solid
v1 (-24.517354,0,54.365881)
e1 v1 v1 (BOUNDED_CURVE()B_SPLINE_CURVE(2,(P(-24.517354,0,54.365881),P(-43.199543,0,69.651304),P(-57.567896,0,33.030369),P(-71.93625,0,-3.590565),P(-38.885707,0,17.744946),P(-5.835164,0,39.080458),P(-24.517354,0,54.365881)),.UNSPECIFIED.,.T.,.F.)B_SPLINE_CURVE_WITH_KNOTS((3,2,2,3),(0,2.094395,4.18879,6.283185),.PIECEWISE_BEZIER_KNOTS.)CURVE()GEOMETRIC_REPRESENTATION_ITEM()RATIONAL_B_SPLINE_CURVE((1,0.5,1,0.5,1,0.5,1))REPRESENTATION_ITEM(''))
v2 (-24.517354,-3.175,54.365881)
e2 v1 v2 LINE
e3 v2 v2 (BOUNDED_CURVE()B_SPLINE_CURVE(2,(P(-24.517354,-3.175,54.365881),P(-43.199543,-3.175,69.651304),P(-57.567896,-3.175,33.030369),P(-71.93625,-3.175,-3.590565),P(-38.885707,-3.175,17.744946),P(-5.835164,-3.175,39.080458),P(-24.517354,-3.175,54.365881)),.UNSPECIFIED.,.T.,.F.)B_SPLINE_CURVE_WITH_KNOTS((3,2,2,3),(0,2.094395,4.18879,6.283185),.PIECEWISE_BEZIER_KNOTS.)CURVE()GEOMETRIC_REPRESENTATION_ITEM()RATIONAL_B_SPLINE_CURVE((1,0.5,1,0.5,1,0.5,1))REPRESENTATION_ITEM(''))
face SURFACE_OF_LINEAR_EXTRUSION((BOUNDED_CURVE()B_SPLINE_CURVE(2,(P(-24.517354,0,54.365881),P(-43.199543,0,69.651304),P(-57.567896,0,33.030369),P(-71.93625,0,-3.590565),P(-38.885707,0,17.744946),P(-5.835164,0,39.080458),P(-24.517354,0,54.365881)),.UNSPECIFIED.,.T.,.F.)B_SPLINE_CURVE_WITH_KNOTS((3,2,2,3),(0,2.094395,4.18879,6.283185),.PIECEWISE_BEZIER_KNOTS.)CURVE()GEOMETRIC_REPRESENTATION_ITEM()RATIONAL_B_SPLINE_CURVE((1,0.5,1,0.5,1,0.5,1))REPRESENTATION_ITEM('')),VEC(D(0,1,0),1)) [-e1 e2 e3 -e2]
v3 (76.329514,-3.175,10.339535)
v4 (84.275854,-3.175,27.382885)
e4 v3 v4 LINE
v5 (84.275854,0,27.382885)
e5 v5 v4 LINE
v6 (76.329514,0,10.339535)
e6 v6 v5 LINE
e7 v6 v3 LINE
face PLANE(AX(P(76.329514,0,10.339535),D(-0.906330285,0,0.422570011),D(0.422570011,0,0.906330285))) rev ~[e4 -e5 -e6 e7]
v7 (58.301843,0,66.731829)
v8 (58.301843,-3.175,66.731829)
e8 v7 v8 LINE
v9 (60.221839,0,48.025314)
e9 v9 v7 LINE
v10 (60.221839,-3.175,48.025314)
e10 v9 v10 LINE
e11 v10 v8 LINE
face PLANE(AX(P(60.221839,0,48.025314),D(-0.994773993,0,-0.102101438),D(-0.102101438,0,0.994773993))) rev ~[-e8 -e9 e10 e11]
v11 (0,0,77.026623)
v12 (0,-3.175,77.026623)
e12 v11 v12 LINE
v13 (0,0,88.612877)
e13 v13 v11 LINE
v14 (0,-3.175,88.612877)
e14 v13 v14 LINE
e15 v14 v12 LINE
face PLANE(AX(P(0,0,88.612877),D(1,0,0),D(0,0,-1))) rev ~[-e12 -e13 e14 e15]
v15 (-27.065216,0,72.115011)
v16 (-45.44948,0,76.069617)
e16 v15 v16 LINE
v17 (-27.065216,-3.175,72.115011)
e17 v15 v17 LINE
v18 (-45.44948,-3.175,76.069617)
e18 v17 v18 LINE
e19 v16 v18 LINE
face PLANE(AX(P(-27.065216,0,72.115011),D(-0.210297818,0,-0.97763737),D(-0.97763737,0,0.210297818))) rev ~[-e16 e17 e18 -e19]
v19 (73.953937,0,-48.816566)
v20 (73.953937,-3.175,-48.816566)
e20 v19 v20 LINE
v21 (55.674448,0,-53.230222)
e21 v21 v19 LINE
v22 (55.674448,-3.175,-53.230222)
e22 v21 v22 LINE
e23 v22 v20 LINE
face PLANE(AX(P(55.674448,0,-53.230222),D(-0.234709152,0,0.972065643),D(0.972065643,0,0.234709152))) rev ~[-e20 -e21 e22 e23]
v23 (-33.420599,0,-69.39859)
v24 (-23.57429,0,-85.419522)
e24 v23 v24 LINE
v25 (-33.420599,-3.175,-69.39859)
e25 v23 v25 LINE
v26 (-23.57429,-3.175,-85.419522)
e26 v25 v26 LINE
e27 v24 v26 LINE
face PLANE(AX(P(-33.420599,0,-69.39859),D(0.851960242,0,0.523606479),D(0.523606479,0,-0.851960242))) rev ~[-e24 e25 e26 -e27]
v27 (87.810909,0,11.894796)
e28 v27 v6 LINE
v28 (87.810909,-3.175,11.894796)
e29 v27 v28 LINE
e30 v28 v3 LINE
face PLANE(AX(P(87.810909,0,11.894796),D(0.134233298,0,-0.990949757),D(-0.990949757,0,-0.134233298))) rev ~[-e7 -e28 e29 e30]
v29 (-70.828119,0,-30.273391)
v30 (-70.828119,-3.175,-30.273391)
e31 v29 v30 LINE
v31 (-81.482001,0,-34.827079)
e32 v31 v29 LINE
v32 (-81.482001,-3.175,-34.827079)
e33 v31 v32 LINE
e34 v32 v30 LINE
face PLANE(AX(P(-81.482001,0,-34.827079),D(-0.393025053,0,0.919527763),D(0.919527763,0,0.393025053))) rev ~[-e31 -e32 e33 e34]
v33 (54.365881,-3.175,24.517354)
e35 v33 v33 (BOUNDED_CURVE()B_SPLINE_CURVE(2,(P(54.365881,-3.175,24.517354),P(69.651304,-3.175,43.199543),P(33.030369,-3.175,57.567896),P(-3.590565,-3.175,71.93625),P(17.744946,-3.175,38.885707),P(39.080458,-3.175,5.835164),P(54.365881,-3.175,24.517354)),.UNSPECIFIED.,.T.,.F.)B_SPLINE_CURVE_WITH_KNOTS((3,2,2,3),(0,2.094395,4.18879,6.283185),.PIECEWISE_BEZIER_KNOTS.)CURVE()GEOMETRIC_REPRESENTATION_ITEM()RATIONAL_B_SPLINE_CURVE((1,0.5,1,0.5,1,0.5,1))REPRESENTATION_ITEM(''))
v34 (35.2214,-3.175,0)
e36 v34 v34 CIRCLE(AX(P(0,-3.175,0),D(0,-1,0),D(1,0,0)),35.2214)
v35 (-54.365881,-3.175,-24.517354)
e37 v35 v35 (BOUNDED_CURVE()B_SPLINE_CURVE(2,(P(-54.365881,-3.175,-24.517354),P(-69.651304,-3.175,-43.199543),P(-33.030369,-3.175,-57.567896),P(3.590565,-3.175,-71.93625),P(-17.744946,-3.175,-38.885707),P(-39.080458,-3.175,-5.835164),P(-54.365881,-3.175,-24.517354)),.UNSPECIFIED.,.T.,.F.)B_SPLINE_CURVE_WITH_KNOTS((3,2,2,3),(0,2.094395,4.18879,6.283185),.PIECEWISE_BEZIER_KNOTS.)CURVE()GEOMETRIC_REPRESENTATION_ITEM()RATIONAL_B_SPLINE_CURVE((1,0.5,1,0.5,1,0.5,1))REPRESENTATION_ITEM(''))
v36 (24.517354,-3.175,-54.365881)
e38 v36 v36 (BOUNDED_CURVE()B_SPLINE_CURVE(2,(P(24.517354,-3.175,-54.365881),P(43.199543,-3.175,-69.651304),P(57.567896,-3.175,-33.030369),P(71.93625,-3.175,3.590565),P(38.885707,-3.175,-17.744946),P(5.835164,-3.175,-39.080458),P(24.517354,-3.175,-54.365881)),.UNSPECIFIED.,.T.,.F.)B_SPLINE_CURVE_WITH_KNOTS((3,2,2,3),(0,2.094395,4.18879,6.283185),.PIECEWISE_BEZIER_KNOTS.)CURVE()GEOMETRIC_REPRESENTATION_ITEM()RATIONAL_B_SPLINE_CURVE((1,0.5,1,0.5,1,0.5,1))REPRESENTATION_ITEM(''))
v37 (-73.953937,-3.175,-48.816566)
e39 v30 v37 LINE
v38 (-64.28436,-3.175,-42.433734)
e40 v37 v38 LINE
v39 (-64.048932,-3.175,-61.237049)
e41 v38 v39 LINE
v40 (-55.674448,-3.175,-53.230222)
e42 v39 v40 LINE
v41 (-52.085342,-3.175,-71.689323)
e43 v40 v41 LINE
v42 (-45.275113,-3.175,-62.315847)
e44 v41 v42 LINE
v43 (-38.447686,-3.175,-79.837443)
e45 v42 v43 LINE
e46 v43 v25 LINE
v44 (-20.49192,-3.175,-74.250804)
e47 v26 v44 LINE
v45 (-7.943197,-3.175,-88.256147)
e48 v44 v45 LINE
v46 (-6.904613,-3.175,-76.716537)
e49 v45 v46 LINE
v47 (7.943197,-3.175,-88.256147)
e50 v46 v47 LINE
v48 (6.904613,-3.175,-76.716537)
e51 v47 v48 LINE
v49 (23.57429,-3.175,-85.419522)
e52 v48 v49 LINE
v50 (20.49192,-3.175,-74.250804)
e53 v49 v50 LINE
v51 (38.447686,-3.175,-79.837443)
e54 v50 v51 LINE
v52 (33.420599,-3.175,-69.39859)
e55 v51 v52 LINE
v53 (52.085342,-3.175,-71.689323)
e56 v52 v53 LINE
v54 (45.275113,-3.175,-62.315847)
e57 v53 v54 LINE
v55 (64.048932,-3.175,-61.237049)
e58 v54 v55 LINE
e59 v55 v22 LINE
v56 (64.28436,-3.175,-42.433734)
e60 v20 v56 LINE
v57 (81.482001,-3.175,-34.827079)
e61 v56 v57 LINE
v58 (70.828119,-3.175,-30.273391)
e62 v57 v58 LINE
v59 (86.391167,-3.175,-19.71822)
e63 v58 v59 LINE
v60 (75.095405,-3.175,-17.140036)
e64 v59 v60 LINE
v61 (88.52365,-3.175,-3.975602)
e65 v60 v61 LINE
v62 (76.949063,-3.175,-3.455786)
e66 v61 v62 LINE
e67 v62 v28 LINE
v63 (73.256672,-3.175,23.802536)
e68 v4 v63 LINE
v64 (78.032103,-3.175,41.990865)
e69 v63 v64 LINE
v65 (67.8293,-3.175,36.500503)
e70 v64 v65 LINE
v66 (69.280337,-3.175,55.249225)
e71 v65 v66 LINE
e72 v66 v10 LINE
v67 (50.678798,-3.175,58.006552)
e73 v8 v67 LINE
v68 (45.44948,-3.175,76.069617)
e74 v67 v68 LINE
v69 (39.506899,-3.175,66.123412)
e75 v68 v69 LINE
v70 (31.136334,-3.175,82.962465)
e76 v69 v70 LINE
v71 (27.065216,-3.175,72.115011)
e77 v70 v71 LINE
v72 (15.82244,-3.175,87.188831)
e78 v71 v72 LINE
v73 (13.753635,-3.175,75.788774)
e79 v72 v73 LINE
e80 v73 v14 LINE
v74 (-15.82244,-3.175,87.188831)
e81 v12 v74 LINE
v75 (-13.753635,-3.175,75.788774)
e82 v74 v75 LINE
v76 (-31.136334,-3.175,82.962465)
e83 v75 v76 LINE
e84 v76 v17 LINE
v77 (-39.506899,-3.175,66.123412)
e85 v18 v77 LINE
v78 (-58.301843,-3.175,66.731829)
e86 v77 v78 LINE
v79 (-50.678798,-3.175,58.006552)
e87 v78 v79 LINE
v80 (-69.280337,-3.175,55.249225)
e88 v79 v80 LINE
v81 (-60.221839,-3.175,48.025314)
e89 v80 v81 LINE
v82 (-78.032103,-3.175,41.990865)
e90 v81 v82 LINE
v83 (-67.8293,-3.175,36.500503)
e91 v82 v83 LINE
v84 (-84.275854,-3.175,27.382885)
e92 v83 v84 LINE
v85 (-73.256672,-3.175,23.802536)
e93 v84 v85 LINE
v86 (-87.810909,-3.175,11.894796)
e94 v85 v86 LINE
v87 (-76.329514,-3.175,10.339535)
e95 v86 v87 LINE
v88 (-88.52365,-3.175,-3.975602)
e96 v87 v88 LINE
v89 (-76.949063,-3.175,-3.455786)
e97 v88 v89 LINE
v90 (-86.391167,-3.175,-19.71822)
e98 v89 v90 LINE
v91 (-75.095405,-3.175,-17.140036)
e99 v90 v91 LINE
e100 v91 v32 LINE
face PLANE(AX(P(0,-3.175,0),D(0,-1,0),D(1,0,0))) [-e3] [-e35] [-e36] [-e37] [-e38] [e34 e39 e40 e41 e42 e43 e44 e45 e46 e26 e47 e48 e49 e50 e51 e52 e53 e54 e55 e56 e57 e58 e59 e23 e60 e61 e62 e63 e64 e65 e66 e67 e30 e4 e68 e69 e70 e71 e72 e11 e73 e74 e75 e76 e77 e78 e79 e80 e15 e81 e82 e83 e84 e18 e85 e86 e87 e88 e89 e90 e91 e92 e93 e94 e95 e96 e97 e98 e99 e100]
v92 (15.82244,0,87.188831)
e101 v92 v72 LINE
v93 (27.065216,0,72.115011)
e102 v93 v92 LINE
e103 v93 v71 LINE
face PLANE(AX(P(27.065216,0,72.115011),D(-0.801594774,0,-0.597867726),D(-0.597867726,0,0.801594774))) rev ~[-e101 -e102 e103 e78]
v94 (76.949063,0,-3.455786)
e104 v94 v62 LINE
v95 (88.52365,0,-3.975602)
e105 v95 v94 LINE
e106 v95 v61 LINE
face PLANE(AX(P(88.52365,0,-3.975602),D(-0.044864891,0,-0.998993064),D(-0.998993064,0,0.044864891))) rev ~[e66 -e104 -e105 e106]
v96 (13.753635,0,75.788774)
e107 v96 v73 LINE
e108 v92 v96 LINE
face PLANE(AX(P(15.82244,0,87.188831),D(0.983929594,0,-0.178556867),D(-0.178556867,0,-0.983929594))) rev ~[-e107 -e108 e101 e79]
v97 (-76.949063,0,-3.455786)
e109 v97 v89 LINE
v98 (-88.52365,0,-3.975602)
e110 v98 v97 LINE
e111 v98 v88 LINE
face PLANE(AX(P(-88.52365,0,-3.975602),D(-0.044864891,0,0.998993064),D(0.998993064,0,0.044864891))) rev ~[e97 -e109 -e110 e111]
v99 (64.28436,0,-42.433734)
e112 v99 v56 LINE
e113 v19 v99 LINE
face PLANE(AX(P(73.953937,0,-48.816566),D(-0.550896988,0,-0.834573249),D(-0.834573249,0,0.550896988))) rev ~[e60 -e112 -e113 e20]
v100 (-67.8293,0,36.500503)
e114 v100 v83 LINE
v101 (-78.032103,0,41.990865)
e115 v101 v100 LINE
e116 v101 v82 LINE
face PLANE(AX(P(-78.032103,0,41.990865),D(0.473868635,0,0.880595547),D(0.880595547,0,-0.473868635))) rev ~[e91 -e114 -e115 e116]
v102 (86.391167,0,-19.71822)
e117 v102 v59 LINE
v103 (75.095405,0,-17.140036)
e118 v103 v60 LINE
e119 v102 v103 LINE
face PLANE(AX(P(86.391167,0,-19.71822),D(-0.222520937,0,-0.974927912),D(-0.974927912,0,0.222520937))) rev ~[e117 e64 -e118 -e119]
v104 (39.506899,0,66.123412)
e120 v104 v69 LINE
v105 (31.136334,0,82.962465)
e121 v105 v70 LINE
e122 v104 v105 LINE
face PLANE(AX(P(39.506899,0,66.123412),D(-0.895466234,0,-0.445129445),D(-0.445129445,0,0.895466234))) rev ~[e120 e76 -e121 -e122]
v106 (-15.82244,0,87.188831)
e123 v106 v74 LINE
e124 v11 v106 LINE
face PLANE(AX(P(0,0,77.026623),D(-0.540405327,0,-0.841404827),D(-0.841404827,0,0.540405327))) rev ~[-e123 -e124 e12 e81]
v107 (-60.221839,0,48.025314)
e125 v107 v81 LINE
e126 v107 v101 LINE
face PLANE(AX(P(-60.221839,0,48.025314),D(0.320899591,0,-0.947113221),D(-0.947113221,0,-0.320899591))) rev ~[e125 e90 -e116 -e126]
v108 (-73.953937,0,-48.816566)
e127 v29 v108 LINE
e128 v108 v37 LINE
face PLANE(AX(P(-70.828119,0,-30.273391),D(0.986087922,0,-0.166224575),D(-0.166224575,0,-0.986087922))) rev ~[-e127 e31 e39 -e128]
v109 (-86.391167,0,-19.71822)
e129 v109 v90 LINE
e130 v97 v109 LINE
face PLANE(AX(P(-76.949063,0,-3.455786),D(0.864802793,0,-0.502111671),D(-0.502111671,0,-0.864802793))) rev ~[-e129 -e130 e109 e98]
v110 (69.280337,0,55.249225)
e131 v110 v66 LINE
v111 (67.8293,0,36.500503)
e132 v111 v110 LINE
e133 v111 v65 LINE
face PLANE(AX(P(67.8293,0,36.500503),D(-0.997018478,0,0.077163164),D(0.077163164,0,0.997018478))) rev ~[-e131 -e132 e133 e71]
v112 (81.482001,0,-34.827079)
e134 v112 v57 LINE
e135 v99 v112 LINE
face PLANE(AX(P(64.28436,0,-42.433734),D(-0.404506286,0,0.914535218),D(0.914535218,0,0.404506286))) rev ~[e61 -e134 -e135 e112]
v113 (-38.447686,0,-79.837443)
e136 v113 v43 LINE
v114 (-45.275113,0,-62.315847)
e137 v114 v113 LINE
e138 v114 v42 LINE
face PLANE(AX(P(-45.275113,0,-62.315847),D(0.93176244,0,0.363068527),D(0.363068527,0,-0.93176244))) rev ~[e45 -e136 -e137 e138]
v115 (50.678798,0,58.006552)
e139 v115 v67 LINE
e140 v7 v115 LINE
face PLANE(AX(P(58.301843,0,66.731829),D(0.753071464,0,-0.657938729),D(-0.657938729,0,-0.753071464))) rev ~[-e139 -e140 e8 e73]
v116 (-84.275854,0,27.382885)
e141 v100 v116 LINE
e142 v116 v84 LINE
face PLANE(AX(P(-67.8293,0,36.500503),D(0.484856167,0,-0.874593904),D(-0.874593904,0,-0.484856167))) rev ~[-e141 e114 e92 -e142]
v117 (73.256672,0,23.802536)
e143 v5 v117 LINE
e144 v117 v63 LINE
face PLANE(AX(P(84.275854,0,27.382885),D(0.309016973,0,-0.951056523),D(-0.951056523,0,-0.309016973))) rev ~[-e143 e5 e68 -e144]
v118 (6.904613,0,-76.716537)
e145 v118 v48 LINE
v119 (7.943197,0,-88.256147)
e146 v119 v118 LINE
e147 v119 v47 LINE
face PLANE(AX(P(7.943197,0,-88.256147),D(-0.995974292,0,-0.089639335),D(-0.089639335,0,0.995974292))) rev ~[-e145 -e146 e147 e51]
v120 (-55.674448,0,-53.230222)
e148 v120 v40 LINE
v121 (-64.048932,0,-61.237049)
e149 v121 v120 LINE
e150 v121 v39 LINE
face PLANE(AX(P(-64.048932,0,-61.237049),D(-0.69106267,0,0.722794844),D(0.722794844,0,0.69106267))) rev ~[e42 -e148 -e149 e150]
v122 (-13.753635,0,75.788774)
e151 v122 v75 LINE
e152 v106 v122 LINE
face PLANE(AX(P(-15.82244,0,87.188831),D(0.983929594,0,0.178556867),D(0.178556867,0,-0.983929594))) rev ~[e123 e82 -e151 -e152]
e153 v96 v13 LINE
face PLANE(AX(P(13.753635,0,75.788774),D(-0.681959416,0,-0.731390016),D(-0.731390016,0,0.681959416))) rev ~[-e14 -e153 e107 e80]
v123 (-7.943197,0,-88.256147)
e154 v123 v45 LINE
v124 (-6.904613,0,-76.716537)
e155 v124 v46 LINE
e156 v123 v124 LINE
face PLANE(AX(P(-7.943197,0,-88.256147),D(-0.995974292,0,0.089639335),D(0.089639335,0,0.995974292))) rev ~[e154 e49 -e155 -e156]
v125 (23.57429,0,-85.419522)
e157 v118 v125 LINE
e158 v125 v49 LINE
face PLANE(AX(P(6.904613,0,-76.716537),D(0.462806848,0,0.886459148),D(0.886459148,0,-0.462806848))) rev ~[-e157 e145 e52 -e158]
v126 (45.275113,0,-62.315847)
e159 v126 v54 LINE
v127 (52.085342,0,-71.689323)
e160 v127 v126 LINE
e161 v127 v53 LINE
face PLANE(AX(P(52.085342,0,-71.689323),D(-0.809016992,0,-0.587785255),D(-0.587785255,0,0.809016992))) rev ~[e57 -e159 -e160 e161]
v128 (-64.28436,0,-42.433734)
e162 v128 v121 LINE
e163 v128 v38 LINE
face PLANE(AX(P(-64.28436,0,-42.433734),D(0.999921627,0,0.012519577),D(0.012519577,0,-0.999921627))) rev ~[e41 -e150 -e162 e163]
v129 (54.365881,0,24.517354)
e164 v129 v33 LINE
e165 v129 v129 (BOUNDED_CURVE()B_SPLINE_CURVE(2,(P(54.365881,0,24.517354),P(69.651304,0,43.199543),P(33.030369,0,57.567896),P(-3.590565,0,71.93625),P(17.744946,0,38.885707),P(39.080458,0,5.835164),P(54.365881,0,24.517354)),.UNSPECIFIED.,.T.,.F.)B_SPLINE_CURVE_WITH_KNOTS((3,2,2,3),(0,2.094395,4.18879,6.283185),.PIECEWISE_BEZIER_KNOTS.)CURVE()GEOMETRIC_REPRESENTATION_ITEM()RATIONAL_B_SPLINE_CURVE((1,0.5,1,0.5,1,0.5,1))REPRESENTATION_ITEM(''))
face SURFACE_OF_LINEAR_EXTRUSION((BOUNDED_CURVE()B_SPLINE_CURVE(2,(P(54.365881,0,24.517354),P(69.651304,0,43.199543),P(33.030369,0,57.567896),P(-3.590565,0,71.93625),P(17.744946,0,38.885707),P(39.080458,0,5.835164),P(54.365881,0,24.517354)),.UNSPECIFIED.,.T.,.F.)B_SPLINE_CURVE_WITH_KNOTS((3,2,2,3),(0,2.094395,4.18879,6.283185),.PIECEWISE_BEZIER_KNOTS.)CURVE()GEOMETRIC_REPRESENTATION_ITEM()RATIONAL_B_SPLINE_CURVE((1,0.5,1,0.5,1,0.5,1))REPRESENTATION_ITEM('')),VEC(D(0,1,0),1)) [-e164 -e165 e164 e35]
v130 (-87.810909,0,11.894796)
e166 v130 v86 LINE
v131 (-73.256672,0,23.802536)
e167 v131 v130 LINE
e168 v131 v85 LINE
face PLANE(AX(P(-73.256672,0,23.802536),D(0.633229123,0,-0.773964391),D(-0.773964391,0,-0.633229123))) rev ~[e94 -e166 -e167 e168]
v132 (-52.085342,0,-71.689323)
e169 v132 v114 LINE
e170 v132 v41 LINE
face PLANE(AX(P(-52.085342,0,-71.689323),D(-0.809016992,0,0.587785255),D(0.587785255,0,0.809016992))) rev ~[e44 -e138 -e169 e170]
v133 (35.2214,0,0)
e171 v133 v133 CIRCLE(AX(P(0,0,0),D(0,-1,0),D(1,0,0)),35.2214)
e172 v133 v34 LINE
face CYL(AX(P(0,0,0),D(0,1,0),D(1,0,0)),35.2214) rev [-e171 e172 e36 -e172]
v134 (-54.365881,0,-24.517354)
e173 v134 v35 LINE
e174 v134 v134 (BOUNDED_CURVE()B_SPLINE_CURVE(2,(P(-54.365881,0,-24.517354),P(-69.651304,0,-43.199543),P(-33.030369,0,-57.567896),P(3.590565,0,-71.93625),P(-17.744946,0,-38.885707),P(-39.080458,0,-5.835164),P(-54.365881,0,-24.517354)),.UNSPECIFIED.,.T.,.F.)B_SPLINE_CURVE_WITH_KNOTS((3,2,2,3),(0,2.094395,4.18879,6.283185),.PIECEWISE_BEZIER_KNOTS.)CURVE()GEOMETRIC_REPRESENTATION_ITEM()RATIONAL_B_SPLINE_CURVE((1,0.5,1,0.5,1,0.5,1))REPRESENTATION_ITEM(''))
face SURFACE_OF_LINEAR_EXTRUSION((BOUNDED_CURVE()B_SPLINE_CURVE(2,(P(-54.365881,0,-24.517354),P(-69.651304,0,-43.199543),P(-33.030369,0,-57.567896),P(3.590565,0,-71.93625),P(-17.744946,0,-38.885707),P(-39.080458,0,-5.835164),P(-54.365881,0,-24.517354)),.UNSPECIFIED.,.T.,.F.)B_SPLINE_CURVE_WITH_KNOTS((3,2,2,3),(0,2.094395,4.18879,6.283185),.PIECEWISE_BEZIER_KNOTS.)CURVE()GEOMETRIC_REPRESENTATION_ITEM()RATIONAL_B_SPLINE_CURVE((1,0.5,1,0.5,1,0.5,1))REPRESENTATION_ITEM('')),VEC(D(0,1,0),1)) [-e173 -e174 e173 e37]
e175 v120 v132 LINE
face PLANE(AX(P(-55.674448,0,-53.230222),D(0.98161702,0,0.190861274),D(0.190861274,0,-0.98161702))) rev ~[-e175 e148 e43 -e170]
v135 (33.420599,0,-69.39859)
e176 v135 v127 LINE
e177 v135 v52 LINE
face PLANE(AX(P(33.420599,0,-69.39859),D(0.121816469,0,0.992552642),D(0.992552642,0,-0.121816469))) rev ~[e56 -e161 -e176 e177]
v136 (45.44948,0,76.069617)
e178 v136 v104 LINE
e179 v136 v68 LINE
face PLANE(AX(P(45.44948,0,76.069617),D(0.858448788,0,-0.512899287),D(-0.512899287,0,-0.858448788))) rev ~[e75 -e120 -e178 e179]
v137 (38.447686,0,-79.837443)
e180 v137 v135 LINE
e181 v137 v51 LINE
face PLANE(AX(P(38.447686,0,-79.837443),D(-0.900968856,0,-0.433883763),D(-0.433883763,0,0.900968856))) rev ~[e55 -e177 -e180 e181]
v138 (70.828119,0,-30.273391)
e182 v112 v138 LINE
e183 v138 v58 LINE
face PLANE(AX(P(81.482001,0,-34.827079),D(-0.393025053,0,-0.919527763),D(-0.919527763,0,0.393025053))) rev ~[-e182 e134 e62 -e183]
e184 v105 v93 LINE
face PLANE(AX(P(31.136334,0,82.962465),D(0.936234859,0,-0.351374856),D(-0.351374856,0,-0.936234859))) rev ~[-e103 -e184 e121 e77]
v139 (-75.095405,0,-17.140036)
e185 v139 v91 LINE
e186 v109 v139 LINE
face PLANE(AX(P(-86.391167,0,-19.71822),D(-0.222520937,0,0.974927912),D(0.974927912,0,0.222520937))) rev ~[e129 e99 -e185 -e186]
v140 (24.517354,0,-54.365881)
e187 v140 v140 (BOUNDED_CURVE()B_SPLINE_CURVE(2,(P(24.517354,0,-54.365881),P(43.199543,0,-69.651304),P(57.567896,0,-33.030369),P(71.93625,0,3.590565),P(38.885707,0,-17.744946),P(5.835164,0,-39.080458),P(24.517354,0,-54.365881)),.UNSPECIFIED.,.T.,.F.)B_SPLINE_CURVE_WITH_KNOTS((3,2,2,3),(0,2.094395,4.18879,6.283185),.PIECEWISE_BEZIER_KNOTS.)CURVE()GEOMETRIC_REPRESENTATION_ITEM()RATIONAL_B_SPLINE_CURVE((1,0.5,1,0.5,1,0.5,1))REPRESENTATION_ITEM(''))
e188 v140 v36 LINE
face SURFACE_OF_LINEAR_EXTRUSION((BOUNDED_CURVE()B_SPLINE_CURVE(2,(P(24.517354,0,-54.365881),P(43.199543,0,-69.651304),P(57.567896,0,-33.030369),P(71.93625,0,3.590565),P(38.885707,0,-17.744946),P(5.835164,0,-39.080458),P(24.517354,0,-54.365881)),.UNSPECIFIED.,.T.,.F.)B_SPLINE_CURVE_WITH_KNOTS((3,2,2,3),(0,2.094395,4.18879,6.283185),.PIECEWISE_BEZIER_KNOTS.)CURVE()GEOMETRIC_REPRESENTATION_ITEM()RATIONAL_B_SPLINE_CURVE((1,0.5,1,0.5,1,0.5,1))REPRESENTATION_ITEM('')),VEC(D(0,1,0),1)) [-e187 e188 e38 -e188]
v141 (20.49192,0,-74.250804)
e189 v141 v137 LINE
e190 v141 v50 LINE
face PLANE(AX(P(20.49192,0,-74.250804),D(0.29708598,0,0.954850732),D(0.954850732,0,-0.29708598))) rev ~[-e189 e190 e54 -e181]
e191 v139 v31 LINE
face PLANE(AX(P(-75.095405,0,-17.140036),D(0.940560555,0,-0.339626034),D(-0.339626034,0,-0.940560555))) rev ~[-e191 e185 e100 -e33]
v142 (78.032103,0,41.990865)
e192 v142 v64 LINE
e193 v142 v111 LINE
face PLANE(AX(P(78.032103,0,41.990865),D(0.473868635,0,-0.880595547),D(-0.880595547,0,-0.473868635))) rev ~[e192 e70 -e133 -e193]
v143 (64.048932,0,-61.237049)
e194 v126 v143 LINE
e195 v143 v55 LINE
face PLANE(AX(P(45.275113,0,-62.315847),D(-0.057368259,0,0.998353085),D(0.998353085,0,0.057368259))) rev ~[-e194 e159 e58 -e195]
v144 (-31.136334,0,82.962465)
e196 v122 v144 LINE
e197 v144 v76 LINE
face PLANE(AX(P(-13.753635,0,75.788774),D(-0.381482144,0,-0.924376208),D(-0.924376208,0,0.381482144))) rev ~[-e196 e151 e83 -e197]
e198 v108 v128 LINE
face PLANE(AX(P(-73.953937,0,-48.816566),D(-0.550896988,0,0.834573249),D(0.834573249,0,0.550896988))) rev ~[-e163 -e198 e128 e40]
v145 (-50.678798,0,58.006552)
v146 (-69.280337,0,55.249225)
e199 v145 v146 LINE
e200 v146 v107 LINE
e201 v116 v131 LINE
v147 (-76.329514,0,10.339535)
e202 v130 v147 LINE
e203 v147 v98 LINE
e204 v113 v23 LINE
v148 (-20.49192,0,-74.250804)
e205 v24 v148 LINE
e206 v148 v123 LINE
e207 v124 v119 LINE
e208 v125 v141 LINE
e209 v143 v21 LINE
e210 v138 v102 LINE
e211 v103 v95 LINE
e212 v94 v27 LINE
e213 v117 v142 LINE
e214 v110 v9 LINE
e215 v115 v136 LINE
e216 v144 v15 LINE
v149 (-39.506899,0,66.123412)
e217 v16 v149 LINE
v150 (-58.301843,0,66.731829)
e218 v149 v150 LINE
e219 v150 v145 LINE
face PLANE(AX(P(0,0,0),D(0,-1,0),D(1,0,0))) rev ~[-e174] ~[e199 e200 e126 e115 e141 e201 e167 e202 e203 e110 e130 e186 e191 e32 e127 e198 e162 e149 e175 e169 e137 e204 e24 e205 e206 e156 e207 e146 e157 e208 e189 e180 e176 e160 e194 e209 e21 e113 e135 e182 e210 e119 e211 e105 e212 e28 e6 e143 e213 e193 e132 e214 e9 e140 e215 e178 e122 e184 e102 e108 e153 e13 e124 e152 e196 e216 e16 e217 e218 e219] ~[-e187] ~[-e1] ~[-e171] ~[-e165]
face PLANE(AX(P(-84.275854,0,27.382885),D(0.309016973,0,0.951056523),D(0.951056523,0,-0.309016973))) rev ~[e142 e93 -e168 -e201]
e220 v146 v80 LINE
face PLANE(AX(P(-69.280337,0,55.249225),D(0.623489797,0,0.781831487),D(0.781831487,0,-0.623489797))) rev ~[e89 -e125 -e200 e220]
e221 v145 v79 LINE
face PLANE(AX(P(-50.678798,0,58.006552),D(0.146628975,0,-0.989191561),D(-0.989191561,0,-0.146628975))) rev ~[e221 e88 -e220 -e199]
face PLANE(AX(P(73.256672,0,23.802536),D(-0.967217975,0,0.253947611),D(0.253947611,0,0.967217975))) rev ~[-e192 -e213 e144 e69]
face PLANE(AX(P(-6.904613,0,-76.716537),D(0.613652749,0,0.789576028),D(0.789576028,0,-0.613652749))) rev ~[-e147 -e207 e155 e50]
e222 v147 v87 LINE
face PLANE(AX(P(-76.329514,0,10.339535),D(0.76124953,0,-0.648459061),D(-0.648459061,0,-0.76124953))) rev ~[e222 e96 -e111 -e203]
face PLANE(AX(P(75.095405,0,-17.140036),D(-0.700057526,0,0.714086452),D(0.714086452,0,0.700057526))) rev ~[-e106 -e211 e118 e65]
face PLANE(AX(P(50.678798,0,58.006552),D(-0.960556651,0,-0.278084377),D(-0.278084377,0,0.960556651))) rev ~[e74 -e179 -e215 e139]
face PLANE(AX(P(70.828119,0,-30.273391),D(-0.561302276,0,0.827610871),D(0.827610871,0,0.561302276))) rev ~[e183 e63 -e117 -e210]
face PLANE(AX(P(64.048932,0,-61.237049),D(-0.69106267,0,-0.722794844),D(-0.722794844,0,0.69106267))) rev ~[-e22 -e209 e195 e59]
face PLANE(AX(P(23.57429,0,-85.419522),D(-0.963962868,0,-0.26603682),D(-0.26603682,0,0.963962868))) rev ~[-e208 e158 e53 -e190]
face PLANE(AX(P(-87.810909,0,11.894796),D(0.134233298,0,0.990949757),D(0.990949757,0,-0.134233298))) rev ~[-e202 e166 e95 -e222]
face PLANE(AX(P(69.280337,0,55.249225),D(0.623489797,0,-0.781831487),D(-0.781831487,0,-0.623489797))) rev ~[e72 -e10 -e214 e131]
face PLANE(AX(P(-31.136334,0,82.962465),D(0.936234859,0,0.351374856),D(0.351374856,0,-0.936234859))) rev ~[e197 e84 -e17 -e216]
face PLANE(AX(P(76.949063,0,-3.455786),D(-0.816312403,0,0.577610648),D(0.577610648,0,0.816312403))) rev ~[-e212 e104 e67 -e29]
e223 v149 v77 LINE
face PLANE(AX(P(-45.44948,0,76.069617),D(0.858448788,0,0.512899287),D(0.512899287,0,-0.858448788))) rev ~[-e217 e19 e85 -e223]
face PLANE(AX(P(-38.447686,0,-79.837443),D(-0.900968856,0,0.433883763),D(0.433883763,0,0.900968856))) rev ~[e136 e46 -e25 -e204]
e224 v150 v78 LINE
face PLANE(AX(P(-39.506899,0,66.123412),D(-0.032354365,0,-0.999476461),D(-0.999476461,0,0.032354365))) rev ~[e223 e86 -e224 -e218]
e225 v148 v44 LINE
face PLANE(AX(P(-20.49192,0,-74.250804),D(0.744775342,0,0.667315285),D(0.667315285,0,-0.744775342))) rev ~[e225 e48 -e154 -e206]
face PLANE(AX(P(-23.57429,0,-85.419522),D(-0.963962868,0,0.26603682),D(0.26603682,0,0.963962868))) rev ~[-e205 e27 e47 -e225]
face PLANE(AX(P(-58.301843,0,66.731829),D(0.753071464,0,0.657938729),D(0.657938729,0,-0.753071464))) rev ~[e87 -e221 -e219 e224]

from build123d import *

# Parameters (mm, degrees)
F0_R     = 35.2214
F1_DEPTH = 3.175


with BuildPart() as f1:
    # F0 (on Front) → F1 (new body)
    with BuildSketch(Plane.XZ):
        Polygon((0, 88.612877), (0, 77.026623), (-15.82244, 87.188831), (-13.753635, 75.788774), (-31.136334, 82.962465), (-27.065216, 72.115011), (-45.44948, 76.069617), (-39.506899, 66.123412), (-58.301843, 66.731829), (-50.678798, 58.006552), (-69.280337, 55.249225), (-60.221839, 48.025314), (-78.032103, 41.990865), (-67.8293, 36.500503), (-84.275854, 27.382885), (-73.256672, 23.802536), (-87.810909, 11.894796), (-76.329514, 10.339535), (-88.52365, -3.975602), (-76.949063, -3.455786), (-86.391167, -19.71822), (-75.095405, -17.140036), (-81.482001, -34.827079), (-70.828119, -30.273391), (-73.953937, -48.816566), (-64.28436, -42.433734), (-64.048932, -61.237049), (-55.674448, -53.230222), (-52.085342, -71.689323), (-45.275113, -62.315847), (-38.447686, -79.837443), (-33.420599, -69.39859), (-23.57429, -85.419522), (-20.49192, -74.250804), (-7.943197, -88.256147), (-6.904613, -76.716537), (7.943197, -88.256147), (6.904613, -76.716537), (23.57429, -85.419522), (20.49192, -74.250804), (38.447686, -79.837443), (33.420599, -69.39859), (52.085342, -71.689323), (45.275113, -62.315847), (64.048932, -61.237049), (55.674448, -53.230222), (73.953937, -48.816566), (64.28436, -42.433734), (81.482001, -34.827079), (70.828119, -30.273391), (86.391167, -19.71822), (75.095405, -17.140036), (88.52365, -3.975602), (76.949063, -3.455786), (87.810909, 11.894796), (76.329514, 10.339535), (84.275854, 27.382885), (73.256672, 23.802536), (78.032103, 41.990865), (67.8293, 36.500503), (69.280337, 55.249225), (60.221839, 48.025314), (58.301843, 66.731829), (50.678798, 58.006552), (45.44948, 76.069617), (39.506899, 66.123412), (31.136334, 82.962465), (27.065216, 72.115011), (15.82244, 87.188831), (13.753635, 75.788774), align=None)
        with BuildLine():
            add(Edge.make_bspline(
                [(-54.365881, -24.517354), (-69.651304, -43.199543), (-33.030369, -57.567896), (3.590565, -71.93625), (-17.744946, -38.885707), (-39.080458, -5.835164), (-54.365881, -24.517354)],
                knots=[0, 0, 0, 2.094395, 2.094395, 4.18879, 4.18879, 6.283185, 6.283185, 6.283185], degree=2, weights=[1, 0.5, 1, 0.5, 1, 0.5, 1]))
        make_face(mode=Mode.SUBTRACT)
        with BuildLine():
            add(Edge.make_bspline(
                [(24.517354, -54.365881), (43.199543, -69.651304), (57.567896, -33.030369), (71.93625, 3.590565), (38.885707, -17.744946), (5.835164, -39.080458), (24.517354, -54.365881)],
                knots=[0, 0, 0, 2.094395, 2.094395, 4.18879, 4.18879, 6.283185, 6.283185, 6.283185], degree=2, weights=[1, 0.5, 1, 0.5, 1, 0.5, 1]))
        make_face(mode=Mode.SUBTRACT)
        Circle(F0_R, mode=Mode.SUBTRACT)
        with BuildLine():
            add(Edge.make_bspline(
                [(-24.517354, 54.365881), (-43.199543, 69.651304), (-57.567896, 33.030369), (-71.93625, -3.590565), (-38.885707, 17.744946), (-5.835164, 39.080458), (-24.517354, 54.365881)],
                knots=[0, 0, 0, 2.094395, 2.094395, 4.18879, 4.18879, 6.283185, 6.283185, 6.283185], degree=2, weights=[1, 0.5, 1, 0.5, 1, 0.5, 1]))
        make_face(mode=Mode.SUBTRACT)
        with BuildLine():
            add(Edge.make_bspline(
                [(54.365881, 24.517354), (69.651304, 43.199543), (33.030369, 57.567896), (-3.590565, 71.93625), (17.744946, 38.885707), (39.080458, 5.835164), (54.365881, 24.517354)],
                knots=[0, 0, 0, 2.094395, 2.094395, 4.18879, 4.18879, 6.283185, 6.283185, 6.283185], degree=2, weights=[1, 0.5, 1, 0.5, 1, 0.5, 1]))
        make_face(mode=Mode.SUBTRACT)
    extrude(amount=F1_DEPTH)


solid = f1.part
